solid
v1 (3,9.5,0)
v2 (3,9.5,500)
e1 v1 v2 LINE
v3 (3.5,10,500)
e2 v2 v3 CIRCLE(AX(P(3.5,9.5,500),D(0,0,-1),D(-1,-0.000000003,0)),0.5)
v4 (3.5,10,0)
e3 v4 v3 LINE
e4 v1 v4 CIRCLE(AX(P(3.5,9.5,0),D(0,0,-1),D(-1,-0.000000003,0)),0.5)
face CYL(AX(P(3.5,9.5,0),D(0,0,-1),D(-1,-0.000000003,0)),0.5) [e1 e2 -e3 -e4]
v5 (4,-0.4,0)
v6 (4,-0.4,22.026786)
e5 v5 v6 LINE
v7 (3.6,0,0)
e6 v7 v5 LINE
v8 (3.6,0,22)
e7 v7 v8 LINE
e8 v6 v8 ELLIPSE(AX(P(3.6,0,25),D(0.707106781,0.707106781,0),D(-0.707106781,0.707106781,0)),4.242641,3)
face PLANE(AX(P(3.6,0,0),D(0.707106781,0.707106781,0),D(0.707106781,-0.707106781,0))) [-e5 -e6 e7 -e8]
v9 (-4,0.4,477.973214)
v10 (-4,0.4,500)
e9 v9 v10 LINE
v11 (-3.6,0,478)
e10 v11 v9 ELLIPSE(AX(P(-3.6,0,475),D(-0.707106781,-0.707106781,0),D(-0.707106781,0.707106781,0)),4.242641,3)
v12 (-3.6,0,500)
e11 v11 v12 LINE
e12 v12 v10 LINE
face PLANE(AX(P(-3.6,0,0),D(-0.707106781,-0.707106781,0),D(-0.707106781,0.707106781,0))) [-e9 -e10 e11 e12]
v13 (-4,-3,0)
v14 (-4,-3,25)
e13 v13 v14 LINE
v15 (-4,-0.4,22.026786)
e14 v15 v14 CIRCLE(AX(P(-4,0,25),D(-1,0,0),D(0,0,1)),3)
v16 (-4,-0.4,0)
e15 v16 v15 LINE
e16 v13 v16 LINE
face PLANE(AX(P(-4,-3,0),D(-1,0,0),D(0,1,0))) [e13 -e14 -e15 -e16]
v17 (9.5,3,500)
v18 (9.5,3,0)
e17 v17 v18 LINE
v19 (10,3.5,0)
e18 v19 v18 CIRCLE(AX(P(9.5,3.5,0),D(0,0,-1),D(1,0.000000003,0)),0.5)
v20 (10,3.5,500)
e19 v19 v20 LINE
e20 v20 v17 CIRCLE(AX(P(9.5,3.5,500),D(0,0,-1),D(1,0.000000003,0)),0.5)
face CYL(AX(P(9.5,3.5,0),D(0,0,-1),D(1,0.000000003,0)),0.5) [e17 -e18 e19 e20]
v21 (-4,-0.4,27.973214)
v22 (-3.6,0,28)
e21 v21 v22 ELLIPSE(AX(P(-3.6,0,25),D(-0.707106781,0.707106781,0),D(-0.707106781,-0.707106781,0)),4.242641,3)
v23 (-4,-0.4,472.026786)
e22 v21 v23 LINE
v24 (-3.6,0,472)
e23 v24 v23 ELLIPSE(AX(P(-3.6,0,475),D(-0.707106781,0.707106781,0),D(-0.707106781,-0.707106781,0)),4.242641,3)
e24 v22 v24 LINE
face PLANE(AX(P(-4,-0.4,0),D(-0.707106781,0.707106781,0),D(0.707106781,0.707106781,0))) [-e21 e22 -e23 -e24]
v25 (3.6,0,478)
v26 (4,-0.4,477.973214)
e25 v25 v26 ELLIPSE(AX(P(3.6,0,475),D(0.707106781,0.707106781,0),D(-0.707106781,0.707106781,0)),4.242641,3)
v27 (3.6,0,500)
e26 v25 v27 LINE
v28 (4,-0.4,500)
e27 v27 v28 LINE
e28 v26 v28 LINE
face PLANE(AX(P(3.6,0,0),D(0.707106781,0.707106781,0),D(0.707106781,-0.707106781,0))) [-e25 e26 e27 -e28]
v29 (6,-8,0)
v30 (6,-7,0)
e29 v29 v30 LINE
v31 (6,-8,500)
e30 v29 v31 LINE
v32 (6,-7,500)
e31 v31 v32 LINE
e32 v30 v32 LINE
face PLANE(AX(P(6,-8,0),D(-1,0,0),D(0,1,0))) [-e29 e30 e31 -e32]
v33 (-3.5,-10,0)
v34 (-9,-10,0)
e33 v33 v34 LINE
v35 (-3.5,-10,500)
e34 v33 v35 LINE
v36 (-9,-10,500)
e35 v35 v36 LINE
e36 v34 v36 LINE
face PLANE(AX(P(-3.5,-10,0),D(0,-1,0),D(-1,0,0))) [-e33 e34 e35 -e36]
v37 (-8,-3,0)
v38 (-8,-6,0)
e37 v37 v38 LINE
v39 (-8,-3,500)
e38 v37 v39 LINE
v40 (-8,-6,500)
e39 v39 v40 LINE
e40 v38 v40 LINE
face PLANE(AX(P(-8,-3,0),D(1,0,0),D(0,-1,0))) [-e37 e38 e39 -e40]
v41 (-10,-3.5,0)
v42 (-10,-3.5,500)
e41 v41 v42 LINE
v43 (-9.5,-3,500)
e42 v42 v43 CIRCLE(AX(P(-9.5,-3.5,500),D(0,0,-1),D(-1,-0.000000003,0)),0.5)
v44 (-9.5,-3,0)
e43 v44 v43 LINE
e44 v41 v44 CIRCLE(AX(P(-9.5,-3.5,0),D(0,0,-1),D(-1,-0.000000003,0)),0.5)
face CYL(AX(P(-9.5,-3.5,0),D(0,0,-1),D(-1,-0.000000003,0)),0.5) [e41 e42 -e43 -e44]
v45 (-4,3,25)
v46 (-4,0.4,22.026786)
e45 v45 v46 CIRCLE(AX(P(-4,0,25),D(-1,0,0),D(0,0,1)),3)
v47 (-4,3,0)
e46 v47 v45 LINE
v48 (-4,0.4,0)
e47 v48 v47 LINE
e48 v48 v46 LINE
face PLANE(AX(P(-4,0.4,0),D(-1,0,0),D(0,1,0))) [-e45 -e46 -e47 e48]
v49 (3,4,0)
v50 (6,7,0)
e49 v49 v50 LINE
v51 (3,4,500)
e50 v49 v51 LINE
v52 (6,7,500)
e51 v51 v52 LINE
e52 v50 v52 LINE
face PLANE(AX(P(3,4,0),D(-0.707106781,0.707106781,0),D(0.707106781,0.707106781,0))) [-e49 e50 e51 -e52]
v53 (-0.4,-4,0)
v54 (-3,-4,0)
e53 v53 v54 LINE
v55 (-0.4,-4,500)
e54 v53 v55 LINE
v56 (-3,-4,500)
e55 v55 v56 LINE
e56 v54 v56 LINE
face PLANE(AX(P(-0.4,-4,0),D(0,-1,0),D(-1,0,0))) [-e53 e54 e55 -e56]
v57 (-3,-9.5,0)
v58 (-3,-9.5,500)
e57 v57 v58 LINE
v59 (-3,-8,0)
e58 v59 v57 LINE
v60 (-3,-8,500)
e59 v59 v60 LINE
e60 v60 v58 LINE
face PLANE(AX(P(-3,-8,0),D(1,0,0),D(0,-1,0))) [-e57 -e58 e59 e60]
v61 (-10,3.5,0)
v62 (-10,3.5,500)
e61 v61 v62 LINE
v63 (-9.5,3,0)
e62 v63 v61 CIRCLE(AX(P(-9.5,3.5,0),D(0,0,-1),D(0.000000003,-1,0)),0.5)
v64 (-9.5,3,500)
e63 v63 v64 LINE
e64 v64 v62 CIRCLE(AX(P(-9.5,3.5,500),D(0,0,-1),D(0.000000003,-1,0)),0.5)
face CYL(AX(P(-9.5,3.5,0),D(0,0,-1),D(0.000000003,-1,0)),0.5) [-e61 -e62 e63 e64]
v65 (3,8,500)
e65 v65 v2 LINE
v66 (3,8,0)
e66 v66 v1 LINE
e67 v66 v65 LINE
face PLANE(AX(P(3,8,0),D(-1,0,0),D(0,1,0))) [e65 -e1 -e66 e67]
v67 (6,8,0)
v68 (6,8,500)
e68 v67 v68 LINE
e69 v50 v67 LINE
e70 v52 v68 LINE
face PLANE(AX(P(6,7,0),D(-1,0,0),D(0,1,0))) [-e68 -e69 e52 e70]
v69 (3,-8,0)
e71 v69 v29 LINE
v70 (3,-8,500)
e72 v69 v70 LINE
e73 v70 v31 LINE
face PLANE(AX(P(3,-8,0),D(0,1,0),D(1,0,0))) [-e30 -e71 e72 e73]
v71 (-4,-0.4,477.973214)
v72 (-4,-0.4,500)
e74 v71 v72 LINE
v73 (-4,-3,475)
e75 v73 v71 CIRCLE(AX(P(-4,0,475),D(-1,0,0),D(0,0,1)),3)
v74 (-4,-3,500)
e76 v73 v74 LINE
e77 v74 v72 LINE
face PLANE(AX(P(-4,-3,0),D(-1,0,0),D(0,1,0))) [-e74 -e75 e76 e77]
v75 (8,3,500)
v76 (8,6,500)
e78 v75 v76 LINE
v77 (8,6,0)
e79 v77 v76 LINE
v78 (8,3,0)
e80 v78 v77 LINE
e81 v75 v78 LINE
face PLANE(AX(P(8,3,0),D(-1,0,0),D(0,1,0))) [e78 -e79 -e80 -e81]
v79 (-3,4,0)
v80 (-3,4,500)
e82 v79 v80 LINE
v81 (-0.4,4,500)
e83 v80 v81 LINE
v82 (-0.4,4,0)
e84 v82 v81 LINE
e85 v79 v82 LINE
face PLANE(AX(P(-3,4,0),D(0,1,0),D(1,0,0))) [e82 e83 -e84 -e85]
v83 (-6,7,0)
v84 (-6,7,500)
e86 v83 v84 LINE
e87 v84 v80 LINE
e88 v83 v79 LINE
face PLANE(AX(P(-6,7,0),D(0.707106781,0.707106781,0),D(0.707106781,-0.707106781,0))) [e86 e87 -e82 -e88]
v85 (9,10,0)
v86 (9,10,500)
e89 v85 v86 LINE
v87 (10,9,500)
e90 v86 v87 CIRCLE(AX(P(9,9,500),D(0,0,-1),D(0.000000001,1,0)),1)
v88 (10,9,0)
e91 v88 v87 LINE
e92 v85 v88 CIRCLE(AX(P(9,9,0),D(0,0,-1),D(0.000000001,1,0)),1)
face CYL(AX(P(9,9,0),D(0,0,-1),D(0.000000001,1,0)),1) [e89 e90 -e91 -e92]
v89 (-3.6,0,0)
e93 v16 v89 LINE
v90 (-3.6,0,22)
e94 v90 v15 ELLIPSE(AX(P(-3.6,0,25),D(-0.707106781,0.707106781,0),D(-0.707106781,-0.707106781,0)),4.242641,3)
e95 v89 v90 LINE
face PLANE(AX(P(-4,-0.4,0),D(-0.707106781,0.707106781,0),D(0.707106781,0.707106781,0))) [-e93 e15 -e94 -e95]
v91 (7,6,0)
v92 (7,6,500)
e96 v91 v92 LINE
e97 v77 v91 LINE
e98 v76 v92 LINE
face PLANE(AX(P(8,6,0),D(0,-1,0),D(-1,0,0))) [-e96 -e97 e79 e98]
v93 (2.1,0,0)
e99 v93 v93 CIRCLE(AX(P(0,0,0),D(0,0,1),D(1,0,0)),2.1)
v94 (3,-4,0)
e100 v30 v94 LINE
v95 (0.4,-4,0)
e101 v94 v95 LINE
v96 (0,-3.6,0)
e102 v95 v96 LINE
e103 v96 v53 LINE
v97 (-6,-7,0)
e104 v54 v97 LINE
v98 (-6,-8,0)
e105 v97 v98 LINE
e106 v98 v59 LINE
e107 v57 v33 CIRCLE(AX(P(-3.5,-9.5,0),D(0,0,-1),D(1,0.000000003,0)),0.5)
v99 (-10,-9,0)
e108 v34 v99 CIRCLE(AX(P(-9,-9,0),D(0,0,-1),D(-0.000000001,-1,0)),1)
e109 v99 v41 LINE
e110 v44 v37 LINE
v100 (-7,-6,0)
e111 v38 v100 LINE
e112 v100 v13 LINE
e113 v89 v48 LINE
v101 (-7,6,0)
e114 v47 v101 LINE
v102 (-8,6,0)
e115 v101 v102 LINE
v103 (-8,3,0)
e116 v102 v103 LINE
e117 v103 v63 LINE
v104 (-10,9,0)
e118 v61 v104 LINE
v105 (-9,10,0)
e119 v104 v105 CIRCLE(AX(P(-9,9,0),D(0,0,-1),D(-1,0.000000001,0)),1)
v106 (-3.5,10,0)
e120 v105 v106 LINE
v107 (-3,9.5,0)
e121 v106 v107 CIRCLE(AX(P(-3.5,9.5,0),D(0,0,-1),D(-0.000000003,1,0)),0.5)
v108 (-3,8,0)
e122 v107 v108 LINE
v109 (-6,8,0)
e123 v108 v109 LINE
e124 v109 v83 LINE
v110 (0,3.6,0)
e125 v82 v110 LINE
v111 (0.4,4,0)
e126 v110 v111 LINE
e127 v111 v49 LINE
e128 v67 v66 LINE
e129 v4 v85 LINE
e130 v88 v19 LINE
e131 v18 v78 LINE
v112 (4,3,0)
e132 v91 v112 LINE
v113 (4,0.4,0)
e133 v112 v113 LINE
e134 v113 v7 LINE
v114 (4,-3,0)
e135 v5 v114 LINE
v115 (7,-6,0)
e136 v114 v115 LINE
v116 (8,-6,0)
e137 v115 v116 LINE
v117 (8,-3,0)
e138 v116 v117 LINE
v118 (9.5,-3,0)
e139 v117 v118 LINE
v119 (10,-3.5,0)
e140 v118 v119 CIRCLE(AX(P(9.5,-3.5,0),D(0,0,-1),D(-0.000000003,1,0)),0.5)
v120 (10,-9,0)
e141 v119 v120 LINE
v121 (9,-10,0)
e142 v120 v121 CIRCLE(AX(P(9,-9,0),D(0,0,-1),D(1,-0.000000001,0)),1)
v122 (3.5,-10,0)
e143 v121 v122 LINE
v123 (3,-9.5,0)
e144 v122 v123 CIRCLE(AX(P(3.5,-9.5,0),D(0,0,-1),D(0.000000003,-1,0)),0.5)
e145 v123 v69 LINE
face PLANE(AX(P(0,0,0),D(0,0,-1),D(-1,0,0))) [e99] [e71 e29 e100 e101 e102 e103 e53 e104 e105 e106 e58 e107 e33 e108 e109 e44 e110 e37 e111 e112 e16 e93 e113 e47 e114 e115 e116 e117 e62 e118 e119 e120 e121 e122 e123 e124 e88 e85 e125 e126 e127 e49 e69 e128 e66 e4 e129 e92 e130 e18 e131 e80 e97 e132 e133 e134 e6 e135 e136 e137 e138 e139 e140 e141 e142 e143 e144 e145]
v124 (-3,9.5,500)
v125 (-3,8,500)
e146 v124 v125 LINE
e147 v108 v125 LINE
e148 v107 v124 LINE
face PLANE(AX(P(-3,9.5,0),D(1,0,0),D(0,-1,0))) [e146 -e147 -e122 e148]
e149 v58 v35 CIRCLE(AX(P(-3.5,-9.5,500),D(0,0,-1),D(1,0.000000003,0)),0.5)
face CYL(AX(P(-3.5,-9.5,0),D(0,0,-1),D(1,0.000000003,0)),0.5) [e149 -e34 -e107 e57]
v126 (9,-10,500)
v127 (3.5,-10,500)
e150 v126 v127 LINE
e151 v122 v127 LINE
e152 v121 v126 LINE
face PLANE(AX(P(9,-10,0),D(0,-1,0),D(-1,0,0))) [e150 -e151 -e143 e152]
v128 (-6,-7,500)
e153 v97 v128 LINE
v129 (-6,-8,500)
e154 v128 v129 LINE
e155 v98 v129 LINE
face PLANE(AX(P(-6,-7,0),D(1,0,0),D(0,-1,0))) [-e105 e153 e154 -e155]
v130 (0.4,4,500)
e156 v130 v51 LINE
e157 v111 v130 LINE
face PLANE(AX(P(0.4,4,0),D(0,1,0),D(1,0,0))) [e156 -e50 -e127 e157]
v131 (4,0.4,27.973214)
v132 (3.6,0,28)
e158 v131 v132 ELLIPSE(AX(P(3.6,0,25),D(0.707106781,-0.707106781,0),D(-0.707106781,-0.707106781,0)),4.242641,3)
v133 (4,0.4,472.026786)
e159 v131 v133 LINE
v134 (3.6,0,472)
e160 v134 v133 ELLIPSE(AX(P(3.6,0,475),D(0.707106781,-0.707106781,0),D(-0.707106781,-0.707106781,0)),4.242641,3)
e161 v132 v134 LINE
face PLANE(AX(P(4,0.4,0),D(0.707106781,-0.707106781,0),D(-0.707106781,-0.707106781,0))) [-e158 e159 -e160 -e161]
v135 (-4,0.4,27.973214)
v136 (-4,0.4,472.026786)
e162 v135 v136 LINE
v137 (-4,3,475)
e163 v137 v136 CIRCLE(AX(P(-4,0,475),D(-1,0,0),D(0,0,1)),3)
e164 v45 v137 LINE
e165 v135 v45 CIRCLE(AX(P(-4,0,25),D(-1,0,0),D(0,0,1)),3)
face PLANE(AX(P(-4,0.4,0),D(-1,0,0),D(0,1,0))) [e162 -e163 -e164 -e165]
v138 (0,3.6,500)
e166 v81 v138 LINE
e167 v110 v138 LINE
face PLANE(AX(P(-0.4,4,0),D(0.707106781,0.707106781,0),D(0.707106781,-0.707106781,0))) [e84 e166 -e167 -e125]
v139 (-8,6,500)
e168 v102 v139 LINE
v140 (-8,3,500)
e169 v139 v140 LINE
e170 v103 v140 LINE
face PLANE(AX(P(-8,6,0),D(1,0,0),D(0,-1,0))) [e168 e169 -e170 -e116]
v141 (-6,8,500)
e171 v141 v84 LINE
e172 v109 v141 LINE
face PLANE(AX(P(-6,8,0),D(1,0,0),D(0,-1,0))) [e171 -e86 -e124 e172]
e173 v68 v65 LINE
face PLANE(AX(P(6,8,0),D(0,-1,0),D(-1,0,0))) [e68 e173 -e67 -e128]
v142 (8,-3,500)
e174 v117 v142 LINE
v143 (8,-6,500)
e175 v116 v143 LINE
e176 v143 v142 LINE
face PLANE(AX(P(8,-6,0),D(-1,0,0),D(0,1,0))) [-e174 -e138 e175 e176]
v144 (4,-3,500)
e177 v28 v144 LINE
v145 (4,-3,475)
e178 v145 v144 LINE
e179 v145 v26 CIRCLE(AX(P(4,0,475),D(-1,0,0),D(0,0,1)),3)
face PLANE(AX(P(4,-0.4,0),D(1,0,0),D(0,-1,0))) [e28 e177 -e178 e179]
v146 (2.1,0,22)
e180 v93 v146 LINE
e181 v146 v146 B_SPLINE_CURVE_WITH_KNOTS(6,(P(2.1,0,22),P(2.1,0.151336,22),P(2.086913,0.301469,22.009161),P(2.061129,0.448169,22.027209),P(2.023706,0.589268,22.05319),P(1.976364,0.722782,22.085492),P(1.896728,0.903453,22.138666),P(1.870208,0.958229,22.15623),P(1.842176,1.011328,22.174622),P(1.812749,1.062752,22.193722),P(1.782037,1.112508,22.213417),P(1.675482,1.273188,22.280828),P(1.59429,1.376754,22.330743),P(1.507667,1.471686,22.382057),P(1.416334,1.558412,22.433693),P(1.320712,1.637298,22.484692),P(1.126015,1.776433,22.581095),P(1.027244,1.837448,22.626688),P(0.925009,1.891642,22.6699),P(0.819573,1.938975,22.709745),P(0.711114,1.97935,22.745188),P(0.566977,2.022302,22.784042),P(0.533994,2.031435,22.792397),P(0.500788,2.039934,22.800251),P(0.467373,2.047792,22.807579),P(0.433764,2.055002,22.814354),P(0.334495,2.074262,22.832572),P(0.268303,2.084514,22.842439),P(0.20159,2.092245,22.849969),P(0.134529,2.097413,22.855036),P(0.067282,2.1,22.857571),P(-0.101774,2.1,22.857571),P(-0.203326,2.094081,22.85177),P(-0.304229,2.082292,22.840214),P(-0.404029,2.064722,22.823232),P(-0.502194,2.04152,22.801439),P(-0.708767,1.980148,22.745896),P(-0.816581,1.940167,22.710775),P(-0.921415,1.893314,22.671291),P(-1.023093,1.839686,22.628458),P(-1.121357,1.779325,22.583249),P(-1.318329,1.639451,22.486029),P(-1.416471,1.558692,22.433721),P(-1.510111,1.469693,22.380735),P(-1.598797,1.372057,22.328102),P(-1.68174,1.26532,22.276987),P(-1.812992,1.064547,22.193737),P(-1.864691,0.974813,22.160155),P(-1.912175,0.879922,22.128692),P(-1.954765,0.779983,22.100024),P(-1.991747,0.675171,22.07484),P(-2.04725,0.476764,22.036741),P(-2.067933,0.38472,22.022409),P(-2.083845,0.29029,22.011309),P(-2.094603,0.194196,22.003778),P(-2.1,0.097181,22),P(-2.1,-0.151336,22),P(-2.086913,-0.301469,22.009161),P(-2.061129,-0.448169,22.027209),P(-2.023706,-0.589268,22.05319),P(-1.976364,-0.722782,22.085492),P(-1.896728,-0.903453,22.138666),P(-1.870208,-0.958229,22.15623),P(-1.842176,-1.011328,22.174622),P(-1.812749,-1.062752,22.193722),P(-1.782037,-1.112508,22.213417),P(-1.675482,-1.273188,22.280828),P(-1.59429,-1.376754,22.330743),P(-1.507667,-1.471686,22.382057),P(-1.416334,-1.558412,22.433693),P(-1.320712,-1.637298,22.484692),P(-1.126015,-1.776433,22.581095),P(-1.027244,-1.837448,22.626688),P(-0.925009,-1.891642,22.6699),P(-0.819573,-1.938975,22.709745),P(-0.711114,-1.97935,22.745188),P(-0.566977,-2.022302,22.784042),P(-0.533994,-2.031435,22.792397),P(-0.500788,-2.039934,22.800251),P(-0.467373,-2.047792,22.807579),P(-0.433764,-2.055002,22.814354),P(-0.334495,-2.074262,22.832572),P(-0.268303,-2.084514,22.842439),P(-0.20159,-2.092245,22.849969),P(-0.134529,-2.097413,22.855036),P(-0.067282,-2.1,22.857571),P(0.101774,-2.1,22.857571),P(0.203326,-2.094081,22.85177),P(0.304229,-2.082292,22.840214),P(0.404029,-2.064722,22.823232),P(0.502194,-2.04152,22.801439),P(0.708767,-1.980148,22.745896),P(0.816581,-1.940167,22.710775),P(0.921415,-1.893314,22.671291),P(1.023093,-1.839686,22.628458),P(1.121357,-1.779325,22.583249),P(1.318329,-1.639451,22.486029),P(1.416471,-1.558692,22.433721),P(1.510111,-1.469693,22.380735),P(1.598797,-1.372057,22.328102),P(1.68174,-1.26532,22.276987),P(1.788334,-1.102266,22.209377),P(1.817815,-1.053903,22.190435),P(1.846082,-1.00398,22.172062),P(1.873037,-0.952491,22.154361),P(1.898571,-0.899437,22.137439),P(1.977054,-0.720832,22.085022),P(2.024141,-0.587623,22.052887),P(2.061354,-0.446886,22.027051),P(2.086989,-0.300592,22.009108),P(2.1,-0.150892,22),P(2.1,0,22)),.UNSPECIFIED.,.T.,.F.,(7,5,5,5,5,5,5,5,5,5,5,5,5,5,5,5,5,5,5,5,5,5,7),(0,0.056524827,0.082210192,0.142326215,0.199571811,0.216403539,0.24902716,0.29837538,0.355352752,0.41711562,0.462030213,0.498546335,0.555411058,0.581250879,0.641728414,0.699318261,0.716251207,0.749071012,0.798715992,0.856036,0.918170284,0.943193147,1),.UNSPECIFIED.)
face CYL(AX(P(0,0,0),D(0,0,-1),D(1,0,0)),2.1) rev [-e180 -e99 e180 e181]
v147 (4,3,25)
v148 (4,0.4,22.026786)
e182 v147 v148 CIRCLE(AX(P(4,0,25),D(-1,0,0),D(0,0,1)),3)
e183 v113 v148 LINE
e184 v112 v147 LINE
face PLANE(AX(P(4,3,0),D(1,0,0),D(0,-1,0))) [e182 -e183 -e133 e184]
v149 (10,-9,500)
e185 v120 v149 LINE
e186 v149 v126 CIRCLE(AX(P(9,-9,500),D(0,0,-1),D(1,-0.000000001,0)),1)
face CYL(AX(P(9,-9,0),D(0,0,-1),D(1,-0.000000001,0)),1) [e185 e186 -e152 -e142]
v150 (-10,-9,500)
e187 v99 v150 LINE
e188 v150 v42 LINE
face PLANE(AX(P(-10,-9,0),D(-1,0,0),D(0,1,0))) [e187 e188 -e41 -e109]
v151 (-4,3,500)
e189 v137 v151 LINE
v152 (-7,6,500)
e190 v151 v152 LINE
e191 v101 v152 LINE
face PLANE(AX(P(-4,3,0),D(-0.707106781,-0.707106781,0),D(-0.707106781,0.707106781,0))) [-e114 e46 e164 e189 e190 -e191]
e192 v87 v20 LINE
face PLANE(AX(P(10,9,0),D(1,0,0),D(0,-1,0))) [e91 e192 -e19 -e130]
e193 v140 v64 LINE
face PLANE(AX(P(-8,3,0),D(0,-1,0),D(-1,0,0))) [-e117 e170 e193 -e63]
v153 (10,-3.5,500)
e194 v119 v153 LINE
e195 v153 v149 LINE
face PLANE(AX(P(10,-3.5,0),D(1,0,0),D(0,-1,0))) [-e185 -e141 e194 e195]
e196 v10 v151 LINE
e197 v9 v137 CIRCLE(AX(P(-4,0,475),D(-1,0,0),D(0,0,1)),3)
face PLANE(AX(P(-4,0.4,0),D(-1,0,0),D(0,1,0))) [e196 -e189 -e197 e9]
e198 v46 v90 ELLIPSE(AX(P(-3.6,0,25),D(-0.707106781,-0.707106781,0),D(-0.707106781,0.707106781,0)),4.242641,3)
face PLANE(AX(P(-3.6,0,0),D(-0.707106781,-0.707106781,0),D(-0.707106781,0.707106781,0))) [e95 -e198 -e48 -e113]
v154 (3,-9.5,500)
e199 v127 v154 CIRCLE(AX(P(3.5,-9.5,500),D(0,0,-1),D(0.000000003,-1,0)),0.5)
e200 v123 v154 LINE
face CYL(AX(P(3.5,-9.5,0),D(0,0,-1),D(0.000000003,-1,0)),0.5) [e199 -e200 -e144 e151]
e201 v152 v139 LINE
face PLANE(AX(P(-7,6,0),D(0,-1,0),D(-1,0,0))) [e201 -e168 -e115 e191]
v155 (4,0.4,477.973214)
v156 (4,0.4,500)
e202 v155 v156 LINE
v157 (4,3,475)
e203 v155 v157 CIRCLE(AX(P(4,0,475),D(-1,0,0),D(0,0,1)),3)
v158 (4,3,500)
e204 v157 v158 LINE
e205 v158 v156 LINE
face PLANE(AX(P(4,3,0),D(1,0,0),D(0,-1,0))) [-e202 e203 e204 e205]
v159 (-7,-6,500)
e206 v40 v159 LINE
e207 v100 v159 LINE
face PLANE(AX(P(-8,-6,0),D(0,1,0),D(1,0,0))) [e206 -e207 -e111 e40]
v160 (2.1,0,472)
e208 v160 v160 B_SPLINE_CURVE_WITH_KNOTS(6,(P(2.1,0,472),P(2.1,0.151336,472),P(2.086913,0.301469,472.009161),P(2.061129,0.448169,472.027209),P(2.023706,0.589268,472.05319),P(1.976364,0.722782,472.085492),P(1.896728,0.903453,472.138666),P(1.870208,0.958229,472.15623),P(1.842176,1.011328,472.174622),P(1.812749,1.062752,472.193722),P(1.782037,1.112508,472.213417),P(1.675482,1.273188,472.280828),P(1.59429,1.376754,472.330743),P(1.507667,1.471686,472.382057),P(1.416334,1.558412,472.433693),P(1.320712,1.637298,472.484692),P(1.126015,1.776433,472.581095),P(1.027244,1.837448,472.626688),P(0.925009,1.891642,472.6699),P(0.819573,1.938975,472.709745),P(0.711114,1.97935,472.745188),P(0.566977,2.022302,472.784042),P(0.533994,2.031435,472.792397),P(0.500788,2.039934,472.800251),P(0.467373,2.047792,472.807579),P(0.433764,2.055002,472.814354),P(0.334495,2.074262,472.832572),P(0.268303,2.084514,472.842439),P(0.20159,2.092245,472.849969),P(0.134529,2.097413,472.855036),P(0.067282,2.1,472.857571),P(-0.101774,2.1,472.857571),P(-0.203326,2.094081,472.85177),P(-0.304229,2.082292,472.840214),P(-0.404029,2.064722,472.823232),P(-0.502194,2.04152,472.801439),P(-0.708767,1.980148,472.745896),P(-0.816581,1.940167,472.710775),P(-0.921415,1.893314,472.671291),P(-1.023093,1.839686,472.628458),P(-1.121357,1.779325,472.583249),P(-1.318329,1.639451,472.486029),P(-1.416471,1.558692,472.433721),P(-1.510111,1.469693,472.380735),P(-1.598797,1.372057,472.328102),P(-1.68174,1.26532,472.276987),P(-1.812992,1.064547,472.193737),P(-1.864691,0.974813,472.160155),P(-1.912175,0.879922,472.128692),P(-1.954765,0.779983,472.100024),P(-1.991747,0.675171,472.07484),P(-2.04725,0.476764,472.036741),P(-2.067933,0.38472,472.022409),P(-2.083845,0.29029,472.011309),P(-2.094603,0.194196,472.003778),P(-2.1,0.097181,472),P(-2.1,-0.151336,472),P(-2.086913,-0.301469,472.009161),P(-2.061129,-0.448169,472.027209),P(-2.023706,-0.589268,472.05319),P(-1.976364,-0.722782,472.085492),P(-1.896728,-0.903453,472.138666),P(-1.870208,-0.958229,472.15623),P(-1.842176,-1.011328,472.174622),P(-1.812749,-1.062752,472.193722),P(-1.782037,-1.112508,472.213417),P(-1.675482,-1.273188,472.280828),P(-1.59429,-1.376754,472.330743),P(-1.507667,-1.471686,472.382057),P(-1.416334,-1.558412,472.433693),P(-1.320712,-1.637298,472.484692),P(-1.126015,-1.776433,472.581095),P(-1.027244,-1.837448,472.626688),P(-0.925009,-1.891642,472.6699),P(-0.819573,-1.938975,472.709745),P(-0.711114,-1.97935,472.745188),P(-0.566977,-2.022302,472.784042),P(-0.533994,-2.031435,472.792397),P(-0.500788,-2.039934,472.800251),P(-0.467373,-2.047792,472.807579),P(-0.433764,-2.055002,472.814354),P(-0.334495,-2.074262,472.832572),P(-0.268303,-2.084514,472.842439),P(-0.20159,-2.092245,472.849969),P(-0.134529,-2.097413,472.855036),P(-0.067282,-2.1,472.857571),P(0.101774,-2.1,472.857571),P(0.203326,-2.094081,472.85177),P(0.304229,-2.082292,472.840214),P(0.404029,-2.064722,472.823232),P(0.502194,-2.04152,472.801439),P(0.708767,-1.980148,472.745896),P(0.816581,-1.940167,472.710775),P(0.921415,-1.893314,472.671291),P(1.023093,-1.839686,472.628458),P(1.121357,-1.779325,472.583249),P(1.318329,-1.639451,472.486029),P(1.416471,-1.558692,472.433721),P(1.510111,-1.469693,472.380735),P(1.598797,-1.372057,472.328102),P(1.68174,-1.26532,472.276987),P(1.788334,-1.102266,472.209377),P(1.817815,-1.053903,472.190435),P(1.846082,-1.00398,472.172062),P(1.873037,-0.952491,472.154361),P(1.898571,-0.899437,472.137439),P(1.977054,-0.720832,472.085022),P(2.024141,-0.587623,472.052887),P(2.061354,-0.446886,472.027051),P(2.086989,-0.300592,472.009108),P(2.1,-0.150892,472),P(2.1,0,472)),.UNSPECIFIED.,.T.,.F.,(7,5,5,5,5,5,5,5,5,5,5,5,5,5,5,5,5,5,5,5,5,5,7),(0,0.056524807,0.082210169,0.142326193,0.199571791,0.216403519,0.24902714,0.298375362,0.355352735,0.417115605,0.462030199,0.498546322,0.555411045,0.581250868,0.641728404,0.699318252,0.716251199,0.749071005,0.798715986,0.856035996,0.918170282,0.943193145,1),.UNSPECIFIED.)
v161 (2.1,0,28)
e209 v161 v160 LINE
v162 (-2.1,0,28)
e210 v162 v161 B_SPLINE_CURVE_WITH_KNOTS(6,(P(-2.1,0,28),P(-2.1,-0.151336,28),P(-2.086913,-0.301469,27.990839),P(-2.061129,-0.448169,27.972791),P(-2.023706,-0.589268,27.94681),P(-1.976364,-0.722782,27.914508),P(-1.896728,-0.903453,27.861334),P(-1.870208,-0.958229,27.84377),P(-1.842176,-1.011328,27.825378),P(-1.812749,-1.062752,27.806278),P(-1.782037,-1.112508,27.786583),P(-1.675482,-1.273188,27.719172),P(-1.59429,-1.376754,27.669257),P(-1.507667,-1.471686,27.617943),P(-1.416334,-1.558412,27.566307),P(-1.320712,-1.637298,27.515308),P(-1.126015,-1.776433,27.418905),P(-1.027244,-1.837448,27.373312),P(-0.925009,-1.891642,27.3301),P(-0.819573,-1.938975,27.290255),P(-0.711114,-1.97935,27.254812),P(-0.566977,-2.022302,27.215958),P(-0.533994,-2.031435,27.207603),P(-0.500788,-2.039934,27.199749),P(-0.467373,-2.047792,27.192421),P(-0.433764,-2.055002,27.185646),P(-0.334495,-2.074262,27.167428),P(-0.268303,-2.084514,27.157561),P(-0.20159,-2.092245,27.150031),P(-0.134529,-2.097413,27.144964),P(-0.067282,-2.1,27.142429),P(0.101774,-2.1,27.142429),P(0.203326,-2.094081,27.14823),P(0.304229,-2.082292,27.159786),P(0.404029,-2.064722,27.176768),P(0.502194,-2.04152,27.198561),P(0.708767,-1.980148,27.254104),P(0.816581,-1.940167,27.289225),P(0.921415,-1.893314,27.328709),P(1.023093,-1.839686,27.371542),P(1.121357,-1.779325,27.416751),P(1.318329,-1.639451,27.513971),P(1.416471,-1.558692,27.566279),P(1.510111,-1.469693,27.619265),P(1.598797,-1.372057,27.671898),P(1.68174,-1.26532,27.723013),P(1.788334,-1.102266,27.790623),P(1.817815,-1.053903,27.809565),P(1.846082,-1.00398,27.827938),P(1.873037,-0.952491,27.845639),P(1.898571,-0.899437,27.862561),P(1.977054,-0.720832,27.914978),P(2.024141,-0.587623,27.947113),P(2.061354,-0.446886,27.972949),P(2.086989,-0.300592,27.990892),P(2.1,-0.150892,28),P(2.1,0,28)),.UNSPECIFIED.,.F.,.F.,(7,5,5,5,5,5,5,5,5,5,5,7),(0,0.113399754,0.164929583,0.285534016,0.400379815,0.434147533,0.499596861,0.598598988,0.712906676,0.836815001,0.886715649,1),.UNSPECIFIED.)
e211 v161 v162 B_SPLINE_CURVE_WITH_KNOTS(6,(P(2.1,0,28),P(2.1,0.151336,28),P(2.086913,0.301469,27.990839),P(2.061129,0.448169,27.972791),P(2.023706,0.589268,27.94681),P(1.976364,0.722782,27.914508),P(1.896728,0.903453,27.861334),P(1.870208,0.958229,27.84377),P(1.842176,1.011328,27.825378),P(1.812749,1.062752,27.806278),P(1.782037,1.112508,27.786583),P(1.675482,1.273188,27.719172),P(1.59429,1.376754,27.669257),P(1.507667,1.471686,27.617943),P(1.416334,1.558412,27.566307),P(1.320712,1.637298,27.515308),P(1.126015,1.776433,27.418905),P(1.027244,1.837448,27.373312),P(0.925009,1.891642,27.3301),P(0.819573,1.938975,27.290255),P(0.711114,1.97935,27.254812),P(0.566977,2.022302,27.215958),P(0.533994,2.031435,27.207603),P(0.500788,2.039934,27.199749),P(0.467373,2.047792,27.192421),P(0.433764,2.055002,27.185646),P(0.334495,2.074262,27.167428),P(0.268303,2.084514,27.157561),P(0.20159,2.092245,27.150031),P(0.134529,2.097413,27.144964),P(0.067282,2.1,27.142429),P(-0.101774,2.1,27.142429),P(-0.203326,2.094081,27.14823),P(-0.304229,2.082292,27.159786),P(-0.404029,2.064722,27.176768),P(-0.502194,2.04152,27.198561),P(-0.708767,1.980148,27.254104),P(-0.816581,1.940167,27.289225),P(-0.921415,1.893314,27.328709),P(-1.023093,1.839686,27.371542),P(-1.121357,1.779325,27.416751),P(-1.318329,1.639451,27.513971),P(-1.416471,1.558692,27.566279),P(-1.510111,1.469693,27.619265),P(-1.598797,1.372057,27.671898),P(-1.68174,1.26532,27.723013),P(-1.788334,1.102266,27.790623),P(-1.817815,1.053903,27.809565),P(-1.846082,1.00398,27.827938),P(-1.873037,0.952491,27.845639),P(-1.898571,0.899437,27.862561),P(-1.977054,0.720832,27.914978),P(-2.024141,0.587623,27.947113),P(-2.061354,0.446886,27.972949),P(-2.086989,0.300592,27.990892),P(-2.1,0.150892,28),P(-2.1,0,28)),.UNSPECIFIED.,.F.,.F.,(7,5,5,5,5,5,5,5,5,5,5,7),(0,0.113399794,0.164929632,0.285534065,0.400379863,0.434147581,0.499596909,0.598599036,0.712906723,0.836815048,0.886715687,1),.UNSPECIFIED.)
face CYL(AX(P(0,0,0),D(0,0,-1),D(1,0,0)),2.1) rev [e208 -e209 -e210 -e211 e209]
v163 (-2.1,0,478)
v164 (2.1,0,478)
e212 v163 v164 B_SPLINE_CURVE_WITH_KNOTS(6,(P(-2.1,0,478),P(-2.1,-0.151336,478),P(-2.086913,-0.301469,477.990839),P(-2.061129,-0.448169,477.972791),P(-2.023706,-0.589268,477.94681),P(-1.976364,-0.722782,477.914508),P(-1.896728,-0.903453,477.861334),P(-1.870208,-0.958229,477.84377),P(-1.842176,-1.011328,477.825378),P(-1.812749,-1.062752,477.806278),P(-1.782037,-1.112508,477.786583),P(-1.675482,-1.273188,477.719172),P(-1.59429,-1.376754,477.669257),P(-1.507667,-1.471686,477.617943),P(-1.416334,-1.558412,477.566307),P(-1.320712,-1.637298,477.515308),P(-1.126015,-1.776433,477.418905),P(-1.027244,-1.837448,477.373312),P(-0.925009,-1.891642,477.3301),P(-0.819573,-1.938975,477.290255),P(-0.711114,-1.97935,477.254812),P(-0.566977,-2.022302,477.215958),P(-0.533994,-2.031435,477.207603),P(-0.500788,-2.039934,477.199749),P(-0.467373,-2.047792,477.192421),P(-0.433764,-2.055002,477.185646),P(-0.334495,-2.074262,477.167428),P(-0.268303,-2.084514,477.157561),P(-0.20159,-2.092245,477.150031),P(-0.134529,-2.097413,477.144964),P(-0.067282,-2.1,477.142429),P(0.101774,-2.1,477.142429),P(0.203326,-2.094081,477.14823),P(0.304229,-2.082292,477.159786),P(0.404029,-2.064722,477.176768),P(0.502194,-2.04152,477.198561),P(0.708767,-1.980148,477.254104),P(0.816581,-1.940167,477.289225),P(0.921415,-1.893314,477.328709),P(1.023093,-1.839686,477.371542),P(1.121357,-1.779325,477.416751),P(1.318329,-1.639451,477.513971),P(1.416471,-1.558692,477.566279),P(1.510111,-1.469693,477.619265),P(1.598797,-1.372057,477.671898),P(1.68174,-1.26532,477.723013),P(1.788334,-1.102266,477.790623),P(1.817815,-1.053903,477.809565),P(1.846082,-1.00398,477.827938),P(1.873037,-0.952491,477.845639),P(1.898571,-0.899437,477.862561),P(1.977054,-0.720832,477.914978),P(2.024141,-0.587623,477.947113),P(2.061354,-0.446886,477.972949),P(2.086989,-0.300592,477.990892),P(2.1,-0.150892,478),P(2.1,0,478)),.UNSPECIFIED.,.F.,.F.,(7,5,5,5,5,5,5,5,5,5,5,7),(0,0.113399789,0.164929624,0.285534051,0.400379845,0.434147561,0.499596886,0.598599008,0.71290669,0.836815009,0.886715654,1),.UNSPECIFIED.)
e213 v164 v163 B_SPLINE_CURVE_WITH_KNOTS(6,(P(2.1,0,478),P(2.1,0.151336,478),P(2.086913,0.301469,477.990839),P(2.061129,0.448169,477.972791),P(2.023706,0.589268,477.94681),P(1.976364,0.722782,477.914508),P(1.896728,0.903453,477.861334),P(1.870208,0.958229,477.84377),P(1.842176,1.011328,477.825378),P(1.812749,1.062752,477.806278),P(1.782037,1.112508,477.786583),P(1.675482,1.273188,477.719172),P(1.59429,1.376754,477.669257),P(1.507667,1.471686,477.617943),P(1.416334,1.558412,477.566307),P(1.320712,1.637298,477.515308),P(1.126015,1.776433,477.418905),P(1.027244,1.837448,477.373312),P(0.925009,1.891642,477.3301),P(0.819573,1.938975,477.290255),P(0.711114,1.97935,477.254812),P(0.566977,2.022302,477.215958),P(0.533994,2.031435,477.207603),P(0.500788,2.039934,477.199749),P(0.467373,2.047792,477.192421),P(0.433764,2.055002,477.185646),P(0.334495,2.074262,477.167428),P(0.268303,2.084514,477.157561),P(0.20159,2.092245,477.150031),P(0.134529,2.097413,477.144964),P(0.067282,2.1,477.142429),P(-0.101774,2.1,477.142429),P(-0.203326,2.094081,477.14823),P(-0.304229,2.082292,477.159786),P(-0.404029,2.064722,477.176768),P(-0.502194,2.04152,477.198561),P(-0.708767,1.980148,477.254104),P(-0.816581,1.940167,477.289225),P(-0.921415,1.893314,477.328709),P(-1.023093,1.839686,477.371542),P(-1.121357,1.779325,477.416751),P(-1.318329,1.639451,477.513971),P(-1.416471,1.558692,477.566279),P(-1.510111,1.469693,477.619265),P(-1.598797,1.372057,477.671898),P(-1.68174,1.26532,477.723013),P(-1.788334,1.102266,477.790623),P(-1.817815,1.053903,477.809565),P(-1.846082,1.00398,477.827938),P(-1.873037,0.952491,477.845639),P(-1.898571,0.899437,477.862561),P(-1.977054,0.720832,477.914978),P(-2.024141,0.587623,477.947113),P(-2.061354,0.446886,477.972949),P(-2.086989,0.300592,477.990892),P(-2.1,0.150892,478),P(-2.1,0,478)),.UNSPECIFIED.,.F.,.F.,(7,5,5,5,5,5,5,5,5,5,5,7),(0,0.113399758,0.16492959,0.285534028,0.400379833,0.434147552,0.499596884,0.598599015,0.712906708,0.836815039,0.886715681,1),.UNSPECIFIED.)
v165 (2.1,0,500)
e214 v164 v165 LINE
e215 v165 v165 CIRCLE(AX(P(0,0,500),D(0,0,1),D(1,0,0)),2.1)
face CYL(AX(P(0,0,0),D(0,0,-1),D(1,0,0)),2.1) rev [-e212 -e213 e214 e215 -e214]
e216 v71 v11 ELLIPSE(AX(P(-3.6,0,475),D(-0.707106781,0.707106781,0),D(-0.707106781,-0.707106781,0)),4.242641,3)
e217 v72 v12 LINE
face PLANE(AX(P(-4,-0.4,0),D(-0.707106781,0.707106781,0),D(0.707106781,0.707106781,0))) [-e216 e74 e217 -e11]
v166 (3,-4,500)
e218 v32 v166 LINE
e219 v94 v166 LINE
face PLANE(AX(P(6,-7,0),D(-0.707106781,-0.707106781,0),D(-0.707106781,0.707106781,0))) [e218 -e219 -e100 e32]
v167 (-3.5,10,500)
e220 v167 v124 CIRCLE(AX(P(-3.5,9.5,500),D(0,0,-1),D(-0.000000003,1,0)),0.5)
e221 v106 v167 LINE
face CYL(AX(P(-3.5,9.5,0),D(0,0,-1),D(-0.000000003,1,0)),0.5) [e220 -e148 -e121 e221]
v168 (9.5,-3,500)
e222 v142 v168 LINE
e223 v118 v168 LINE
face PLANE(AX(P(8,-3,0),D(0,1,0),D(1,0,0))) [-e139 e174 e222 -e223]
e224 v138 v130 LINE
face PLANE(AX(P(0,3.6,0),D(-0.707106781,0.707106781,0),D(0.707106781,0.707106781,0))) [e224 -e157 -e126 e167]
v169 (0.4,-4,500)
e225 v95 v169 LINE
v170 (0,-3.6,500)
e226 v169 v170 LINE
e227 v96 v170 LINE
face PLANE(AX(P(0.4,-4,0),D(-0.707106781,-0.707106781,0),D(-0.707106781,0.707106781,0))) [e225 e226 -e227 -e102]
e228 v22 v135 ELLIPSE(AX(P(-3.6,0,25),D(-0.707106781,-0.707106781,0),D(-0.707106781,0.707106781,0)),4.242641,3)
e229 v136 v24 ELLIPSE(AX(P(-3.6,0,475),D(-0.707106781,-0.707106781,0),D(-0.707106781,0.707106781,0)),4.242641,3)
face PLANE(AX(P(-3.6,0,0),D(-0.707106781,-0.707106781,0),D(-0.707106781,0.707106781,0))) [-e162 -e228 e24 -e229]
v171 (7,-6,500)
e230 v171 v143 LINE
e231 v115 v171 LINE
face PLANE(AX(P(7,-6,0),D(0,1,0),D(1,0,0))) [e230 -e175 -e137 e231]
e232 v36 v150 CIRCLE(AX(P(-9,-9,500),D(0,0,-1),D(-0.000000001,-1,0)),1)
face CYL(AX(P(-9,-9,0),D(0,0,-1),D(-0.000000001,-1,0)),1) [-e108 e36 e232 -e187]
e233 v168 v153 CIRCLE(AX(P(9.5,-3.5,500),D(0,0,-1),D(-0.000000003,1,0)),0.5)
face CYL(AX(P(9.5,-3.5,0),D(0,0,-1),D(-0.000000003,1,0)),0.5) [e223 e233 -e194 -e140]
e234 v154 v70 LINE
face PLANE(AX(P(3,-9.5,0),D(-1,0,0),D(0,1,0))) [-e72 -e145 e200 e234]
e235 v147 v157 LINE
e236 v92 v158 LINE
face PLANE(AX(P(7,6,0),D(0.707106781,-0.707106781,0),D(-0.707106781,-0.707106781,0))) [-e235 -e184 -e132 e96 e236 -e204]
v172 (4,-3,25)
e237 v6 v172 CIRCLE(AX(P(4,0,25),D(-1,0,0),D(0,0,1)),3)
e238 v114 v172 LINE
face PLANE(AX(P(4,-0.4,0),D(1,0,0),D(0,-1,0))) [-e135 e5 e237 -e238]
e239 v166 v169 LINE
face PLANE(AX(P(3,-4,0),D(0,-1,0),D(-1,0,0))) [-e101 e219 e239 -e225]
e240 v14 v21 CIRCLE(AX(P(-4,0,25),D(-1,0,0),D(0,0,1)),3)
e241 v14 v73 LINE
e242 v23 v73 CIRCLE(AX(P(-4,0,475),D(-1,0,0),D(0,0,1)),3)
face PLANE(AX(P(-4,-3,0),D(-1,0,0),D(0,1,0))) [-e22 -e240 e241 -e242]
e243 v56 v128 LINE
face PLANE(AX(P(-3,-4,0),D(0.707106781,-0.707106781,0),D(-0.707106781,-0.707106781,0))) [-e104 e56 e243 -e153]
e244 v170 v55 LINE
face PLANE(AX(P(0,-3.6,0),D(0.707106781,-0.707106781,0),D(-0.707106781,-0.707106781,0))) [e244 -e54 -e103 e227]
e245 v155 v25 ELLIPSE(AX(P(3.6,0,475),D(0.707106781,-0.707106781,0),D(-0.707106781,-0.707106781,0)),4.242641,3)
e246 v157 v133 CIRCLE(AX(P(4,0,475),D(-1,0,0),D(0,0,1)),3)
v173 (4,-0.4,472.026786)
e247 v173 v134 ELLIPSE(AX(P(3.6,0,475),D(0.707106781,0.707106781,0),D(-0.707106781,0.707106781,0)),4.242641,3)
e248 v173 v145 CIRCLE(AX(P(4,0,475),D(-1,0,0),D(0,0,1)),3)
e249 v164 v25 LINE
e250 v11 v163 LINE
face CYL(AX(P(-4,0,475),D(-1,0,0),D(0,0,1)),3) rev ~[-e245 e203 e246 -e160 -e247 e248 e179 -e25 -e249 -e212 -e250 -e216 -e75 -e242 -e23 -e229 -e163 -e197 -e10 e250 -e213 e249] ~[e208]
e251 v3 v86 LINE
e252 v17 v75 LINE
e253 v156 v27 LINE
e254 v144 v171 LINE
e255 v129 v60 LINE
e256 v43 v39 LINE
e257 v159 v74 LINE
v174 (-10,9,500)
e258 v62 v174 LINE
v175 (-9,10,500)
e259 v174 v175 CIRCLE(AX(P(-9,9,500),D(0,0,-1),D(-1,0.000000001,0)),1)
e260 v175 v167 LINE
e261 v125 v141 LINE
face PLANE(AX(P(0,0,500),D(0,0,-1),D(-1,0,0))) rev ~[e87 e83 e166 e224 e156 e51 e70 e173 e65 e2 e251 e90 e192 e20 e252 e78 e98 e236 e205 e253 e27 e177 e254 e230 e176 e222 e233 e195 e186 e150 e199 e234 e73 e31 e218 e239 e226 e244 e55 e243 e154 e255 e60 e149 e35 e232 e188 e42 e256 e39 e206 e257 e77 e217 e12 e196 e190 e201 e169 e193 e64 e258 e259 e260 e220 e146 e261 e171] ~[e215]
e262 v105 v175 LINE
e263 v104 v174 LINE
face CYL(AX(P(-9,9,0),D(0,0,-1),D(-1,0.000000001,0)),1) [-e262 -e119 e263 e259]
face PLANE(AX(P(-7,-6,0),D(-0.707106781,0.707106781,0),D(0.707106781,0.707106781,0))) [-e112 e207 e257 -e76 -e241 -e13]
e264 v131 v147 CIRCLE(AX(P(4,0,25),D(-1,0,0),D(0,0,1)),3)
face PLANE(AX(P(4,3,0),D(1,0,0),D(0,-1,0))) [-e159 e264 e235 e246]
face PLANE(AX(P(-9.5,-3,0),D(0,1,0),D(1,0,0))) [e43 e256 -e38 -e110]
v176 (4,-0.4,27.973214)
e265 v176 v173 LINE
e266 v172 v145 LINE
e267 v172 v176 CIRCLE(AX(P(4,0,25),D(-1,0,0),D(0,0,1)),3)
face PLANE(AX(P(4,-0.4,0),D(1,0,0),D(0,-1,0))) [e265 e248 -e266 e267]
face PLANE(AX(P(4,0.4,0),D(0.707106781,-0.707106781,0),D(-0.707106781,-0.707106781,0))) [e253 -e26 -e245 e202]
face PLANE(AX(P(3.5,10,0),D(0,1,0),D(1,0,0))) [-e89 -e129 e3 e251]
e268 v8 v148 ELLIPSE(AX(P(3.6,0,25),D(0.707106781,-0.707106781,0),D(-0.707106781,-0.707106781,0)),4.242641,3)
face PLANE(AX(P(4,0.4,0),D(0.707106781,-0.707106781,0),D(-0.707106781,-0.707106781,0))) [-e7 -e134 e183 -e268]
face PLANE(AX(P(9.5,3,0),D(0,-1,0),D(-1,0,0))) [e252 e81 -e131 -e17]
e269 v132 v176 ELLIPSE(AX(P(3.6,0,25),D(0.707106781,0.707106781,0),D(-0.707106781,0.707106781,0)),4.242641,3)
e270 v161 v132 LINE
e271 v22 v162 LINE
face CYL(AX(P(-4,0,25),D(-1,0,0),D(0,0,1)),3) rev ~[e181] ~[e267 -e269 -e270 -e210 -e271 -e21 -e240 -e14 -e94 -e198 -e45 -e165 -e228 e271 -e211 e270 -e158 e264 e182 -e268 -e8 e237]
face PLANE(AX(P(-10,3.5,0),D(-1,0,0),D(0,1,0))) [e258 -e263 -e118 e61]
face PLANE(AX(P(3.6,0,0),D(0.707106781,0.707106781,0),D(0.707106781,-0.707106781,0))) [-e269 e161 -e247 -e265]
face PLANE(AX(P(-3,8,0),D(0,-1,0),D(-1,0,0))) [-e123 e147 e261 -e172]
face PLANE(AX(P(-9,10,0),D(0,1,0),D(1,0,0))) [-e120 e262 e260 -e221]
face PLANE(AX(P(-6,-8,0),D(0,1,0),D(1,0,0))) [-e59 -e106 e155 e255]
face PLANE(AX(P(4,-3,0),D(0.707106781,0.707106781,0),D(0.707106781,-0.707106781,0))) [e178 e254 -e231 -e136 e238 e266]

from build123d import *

# Parameters (mm, degrees)
SCHIZZO1_R                   = 2.1
ESTRUSIONE_ESTRUSIONE1_DEPTH = 500
SCHIZZO2_R                   = 3
TAGLIO_ESTRUSIONE1_DEPTH     = 15


with BuildPart() as part:
    # Schizzo1 → Estrusione-Estrusione1 (new body)
    with BuildSketch(Plane.XY):
        with BuildLine():
            Line((-3.6, 0), (-4, 0.4))
            Line((-4, 0.4), (-4, 3))
            Line((-4, 3), (-7, 6))
            Line((-7, 6), (-8, 6))
            Line((-8, 6), (-8, 3))
            Line((-8, 3), (-9.5, 3))
            ThreePointArc((-9.5, 3), (-9.853553391, 3.146446609), (-10, 3.5))
            Line((-10, 3.5), (-10, 9))
            ThreePointArc((-10, 9), (-9.707106781, 9.707106781), (-9, 10))
            Line((-9, 10), (-3.5, 10))
            ThreePointArc((-3.5, 10), (-3.146446609, 9.853553391), (-3, 9.5))
            Line((-3, 9.5), (-3, 8))
            Line((-3, 8), (-6, 8))
            Line((-6, 8), (-6, 7))
            Line((-6, 7), (-3, 4))
            Line((-3, 4), (-0.4, 4))
            Line((-0.4, 4), (0, 3.6))
            Line((0, 3.6), (0.4, 4))
            Line((0.4, 4), (3, 4))
            Line((3, 4), (6, 7))
            Line((6, 7), (6, 8))
            Line((6, 8), (3, 8))
            Line((3, 8), (3, 9.5))
            ThreePointArc((3, 9.5), (3.146446609, 9.853553391), (3.5, 10))
            Line((3.5, 10), (9, 10))
            ThreePointArc((9, 10), (9.707106781, 9.707106781), (10, 9))
            Line((10, 9), (10, 3.5))
            ThreePointArc((10, 3.5), (9.853553391, 3.146446609), (9.5, 3))
            Line((9.5, 3), (8, 3))
            Line((8, 3), (8, 6))
            Line((8, 6), (7, 6))
            Line((7, 6), (4, 3))
            Line((4, 3), (4, 0.4))
            Line((4, 0.4), (3.6, 0))
            Line((3.6, 0), (4, -0.4))
            Line((4, -0.4), (4, -3))
            Line((4, -3), (7, -6))
            Line((7, -6), (8, -6))
            Line((8, -6), (8, -3))
            Line((8, -3), (9.5, -3))
            ThreePointArc((9.5, -3), (9.853553391, -3.146446609), (10, -3.5))
            Line((10, -3.5), (10, -9))
            ThreePointArc((10, -9), (9.707106781, -9.707106781), (9, -10))
            Line((9, -10), (3.5, -10))
            ThreePointArc((3.5, -10), (3.146446609, -9.853553391), (3, -9.5))
            Line((3, -9.5), (3, -8))
            Line((3, -8), (6, -8))
            Line((6, -8), (6, -7))
            Line((6, -7), (3, -4))
            Line((3, -4), (0.4, -4))
            Line((0.4, -4), (0, -3.6))
            Line((0, -3.6), (-0.4, -4))
            Line((-0.4, -4), (-3, -4))
            Line((-3, -4), (-6, -7))
            Line((-6, -7), (-6, -8))
            Line((-6, -8), (-3, -8))
            Line((-3, -8), (-3, -9.5))
            ThreePointArc((-3, -9.5), (-3.146446609, -9.853553391), (-3.5, -10))
            Line((-3.5, -10), (-9, -10))
            ThreePointArc((-9, -10), (-9.707106781, -9.707106781), (-10, -9))
            Line((-10, -9), (-10, -3.5))
            ThreePointArc((-10, -3.5), (-9.853553391, -3.146446609), (-9.5, -3))
            Line((-9.5, -3), (-8, -3))
            Line((-8, -3), (-8, -6))
            Line((-8, -6), (-7, -6))
            Line((-7, -6), (-4, -3))
            Line((-4, -3), (-4, -0.4))
            Line((-4, -0.4), (-3.6, 0))
        make_face()
        Circle(SCHIZZO1_R, mode=Mode.SUBTRACT)
    extrude(amount=ESTRUSIONE_ESTRUSIONE1_DEPTH)

    # Schizzo2 → Taglio-Estrusione1 (cut, through all)
    with BuildSketch(Plane.ZY.offset(4)):
        with Locations((25, 0)):
            Circle(SCHIZZO2_R)
        with Locations((475, 0)):
            Circle(SCHIZZO2_R)
    extrude(amount=-TAGLIO_ESTRUSIONE1_DEPTH, mode=Mode.SUBTRACT)


solid = part.part
